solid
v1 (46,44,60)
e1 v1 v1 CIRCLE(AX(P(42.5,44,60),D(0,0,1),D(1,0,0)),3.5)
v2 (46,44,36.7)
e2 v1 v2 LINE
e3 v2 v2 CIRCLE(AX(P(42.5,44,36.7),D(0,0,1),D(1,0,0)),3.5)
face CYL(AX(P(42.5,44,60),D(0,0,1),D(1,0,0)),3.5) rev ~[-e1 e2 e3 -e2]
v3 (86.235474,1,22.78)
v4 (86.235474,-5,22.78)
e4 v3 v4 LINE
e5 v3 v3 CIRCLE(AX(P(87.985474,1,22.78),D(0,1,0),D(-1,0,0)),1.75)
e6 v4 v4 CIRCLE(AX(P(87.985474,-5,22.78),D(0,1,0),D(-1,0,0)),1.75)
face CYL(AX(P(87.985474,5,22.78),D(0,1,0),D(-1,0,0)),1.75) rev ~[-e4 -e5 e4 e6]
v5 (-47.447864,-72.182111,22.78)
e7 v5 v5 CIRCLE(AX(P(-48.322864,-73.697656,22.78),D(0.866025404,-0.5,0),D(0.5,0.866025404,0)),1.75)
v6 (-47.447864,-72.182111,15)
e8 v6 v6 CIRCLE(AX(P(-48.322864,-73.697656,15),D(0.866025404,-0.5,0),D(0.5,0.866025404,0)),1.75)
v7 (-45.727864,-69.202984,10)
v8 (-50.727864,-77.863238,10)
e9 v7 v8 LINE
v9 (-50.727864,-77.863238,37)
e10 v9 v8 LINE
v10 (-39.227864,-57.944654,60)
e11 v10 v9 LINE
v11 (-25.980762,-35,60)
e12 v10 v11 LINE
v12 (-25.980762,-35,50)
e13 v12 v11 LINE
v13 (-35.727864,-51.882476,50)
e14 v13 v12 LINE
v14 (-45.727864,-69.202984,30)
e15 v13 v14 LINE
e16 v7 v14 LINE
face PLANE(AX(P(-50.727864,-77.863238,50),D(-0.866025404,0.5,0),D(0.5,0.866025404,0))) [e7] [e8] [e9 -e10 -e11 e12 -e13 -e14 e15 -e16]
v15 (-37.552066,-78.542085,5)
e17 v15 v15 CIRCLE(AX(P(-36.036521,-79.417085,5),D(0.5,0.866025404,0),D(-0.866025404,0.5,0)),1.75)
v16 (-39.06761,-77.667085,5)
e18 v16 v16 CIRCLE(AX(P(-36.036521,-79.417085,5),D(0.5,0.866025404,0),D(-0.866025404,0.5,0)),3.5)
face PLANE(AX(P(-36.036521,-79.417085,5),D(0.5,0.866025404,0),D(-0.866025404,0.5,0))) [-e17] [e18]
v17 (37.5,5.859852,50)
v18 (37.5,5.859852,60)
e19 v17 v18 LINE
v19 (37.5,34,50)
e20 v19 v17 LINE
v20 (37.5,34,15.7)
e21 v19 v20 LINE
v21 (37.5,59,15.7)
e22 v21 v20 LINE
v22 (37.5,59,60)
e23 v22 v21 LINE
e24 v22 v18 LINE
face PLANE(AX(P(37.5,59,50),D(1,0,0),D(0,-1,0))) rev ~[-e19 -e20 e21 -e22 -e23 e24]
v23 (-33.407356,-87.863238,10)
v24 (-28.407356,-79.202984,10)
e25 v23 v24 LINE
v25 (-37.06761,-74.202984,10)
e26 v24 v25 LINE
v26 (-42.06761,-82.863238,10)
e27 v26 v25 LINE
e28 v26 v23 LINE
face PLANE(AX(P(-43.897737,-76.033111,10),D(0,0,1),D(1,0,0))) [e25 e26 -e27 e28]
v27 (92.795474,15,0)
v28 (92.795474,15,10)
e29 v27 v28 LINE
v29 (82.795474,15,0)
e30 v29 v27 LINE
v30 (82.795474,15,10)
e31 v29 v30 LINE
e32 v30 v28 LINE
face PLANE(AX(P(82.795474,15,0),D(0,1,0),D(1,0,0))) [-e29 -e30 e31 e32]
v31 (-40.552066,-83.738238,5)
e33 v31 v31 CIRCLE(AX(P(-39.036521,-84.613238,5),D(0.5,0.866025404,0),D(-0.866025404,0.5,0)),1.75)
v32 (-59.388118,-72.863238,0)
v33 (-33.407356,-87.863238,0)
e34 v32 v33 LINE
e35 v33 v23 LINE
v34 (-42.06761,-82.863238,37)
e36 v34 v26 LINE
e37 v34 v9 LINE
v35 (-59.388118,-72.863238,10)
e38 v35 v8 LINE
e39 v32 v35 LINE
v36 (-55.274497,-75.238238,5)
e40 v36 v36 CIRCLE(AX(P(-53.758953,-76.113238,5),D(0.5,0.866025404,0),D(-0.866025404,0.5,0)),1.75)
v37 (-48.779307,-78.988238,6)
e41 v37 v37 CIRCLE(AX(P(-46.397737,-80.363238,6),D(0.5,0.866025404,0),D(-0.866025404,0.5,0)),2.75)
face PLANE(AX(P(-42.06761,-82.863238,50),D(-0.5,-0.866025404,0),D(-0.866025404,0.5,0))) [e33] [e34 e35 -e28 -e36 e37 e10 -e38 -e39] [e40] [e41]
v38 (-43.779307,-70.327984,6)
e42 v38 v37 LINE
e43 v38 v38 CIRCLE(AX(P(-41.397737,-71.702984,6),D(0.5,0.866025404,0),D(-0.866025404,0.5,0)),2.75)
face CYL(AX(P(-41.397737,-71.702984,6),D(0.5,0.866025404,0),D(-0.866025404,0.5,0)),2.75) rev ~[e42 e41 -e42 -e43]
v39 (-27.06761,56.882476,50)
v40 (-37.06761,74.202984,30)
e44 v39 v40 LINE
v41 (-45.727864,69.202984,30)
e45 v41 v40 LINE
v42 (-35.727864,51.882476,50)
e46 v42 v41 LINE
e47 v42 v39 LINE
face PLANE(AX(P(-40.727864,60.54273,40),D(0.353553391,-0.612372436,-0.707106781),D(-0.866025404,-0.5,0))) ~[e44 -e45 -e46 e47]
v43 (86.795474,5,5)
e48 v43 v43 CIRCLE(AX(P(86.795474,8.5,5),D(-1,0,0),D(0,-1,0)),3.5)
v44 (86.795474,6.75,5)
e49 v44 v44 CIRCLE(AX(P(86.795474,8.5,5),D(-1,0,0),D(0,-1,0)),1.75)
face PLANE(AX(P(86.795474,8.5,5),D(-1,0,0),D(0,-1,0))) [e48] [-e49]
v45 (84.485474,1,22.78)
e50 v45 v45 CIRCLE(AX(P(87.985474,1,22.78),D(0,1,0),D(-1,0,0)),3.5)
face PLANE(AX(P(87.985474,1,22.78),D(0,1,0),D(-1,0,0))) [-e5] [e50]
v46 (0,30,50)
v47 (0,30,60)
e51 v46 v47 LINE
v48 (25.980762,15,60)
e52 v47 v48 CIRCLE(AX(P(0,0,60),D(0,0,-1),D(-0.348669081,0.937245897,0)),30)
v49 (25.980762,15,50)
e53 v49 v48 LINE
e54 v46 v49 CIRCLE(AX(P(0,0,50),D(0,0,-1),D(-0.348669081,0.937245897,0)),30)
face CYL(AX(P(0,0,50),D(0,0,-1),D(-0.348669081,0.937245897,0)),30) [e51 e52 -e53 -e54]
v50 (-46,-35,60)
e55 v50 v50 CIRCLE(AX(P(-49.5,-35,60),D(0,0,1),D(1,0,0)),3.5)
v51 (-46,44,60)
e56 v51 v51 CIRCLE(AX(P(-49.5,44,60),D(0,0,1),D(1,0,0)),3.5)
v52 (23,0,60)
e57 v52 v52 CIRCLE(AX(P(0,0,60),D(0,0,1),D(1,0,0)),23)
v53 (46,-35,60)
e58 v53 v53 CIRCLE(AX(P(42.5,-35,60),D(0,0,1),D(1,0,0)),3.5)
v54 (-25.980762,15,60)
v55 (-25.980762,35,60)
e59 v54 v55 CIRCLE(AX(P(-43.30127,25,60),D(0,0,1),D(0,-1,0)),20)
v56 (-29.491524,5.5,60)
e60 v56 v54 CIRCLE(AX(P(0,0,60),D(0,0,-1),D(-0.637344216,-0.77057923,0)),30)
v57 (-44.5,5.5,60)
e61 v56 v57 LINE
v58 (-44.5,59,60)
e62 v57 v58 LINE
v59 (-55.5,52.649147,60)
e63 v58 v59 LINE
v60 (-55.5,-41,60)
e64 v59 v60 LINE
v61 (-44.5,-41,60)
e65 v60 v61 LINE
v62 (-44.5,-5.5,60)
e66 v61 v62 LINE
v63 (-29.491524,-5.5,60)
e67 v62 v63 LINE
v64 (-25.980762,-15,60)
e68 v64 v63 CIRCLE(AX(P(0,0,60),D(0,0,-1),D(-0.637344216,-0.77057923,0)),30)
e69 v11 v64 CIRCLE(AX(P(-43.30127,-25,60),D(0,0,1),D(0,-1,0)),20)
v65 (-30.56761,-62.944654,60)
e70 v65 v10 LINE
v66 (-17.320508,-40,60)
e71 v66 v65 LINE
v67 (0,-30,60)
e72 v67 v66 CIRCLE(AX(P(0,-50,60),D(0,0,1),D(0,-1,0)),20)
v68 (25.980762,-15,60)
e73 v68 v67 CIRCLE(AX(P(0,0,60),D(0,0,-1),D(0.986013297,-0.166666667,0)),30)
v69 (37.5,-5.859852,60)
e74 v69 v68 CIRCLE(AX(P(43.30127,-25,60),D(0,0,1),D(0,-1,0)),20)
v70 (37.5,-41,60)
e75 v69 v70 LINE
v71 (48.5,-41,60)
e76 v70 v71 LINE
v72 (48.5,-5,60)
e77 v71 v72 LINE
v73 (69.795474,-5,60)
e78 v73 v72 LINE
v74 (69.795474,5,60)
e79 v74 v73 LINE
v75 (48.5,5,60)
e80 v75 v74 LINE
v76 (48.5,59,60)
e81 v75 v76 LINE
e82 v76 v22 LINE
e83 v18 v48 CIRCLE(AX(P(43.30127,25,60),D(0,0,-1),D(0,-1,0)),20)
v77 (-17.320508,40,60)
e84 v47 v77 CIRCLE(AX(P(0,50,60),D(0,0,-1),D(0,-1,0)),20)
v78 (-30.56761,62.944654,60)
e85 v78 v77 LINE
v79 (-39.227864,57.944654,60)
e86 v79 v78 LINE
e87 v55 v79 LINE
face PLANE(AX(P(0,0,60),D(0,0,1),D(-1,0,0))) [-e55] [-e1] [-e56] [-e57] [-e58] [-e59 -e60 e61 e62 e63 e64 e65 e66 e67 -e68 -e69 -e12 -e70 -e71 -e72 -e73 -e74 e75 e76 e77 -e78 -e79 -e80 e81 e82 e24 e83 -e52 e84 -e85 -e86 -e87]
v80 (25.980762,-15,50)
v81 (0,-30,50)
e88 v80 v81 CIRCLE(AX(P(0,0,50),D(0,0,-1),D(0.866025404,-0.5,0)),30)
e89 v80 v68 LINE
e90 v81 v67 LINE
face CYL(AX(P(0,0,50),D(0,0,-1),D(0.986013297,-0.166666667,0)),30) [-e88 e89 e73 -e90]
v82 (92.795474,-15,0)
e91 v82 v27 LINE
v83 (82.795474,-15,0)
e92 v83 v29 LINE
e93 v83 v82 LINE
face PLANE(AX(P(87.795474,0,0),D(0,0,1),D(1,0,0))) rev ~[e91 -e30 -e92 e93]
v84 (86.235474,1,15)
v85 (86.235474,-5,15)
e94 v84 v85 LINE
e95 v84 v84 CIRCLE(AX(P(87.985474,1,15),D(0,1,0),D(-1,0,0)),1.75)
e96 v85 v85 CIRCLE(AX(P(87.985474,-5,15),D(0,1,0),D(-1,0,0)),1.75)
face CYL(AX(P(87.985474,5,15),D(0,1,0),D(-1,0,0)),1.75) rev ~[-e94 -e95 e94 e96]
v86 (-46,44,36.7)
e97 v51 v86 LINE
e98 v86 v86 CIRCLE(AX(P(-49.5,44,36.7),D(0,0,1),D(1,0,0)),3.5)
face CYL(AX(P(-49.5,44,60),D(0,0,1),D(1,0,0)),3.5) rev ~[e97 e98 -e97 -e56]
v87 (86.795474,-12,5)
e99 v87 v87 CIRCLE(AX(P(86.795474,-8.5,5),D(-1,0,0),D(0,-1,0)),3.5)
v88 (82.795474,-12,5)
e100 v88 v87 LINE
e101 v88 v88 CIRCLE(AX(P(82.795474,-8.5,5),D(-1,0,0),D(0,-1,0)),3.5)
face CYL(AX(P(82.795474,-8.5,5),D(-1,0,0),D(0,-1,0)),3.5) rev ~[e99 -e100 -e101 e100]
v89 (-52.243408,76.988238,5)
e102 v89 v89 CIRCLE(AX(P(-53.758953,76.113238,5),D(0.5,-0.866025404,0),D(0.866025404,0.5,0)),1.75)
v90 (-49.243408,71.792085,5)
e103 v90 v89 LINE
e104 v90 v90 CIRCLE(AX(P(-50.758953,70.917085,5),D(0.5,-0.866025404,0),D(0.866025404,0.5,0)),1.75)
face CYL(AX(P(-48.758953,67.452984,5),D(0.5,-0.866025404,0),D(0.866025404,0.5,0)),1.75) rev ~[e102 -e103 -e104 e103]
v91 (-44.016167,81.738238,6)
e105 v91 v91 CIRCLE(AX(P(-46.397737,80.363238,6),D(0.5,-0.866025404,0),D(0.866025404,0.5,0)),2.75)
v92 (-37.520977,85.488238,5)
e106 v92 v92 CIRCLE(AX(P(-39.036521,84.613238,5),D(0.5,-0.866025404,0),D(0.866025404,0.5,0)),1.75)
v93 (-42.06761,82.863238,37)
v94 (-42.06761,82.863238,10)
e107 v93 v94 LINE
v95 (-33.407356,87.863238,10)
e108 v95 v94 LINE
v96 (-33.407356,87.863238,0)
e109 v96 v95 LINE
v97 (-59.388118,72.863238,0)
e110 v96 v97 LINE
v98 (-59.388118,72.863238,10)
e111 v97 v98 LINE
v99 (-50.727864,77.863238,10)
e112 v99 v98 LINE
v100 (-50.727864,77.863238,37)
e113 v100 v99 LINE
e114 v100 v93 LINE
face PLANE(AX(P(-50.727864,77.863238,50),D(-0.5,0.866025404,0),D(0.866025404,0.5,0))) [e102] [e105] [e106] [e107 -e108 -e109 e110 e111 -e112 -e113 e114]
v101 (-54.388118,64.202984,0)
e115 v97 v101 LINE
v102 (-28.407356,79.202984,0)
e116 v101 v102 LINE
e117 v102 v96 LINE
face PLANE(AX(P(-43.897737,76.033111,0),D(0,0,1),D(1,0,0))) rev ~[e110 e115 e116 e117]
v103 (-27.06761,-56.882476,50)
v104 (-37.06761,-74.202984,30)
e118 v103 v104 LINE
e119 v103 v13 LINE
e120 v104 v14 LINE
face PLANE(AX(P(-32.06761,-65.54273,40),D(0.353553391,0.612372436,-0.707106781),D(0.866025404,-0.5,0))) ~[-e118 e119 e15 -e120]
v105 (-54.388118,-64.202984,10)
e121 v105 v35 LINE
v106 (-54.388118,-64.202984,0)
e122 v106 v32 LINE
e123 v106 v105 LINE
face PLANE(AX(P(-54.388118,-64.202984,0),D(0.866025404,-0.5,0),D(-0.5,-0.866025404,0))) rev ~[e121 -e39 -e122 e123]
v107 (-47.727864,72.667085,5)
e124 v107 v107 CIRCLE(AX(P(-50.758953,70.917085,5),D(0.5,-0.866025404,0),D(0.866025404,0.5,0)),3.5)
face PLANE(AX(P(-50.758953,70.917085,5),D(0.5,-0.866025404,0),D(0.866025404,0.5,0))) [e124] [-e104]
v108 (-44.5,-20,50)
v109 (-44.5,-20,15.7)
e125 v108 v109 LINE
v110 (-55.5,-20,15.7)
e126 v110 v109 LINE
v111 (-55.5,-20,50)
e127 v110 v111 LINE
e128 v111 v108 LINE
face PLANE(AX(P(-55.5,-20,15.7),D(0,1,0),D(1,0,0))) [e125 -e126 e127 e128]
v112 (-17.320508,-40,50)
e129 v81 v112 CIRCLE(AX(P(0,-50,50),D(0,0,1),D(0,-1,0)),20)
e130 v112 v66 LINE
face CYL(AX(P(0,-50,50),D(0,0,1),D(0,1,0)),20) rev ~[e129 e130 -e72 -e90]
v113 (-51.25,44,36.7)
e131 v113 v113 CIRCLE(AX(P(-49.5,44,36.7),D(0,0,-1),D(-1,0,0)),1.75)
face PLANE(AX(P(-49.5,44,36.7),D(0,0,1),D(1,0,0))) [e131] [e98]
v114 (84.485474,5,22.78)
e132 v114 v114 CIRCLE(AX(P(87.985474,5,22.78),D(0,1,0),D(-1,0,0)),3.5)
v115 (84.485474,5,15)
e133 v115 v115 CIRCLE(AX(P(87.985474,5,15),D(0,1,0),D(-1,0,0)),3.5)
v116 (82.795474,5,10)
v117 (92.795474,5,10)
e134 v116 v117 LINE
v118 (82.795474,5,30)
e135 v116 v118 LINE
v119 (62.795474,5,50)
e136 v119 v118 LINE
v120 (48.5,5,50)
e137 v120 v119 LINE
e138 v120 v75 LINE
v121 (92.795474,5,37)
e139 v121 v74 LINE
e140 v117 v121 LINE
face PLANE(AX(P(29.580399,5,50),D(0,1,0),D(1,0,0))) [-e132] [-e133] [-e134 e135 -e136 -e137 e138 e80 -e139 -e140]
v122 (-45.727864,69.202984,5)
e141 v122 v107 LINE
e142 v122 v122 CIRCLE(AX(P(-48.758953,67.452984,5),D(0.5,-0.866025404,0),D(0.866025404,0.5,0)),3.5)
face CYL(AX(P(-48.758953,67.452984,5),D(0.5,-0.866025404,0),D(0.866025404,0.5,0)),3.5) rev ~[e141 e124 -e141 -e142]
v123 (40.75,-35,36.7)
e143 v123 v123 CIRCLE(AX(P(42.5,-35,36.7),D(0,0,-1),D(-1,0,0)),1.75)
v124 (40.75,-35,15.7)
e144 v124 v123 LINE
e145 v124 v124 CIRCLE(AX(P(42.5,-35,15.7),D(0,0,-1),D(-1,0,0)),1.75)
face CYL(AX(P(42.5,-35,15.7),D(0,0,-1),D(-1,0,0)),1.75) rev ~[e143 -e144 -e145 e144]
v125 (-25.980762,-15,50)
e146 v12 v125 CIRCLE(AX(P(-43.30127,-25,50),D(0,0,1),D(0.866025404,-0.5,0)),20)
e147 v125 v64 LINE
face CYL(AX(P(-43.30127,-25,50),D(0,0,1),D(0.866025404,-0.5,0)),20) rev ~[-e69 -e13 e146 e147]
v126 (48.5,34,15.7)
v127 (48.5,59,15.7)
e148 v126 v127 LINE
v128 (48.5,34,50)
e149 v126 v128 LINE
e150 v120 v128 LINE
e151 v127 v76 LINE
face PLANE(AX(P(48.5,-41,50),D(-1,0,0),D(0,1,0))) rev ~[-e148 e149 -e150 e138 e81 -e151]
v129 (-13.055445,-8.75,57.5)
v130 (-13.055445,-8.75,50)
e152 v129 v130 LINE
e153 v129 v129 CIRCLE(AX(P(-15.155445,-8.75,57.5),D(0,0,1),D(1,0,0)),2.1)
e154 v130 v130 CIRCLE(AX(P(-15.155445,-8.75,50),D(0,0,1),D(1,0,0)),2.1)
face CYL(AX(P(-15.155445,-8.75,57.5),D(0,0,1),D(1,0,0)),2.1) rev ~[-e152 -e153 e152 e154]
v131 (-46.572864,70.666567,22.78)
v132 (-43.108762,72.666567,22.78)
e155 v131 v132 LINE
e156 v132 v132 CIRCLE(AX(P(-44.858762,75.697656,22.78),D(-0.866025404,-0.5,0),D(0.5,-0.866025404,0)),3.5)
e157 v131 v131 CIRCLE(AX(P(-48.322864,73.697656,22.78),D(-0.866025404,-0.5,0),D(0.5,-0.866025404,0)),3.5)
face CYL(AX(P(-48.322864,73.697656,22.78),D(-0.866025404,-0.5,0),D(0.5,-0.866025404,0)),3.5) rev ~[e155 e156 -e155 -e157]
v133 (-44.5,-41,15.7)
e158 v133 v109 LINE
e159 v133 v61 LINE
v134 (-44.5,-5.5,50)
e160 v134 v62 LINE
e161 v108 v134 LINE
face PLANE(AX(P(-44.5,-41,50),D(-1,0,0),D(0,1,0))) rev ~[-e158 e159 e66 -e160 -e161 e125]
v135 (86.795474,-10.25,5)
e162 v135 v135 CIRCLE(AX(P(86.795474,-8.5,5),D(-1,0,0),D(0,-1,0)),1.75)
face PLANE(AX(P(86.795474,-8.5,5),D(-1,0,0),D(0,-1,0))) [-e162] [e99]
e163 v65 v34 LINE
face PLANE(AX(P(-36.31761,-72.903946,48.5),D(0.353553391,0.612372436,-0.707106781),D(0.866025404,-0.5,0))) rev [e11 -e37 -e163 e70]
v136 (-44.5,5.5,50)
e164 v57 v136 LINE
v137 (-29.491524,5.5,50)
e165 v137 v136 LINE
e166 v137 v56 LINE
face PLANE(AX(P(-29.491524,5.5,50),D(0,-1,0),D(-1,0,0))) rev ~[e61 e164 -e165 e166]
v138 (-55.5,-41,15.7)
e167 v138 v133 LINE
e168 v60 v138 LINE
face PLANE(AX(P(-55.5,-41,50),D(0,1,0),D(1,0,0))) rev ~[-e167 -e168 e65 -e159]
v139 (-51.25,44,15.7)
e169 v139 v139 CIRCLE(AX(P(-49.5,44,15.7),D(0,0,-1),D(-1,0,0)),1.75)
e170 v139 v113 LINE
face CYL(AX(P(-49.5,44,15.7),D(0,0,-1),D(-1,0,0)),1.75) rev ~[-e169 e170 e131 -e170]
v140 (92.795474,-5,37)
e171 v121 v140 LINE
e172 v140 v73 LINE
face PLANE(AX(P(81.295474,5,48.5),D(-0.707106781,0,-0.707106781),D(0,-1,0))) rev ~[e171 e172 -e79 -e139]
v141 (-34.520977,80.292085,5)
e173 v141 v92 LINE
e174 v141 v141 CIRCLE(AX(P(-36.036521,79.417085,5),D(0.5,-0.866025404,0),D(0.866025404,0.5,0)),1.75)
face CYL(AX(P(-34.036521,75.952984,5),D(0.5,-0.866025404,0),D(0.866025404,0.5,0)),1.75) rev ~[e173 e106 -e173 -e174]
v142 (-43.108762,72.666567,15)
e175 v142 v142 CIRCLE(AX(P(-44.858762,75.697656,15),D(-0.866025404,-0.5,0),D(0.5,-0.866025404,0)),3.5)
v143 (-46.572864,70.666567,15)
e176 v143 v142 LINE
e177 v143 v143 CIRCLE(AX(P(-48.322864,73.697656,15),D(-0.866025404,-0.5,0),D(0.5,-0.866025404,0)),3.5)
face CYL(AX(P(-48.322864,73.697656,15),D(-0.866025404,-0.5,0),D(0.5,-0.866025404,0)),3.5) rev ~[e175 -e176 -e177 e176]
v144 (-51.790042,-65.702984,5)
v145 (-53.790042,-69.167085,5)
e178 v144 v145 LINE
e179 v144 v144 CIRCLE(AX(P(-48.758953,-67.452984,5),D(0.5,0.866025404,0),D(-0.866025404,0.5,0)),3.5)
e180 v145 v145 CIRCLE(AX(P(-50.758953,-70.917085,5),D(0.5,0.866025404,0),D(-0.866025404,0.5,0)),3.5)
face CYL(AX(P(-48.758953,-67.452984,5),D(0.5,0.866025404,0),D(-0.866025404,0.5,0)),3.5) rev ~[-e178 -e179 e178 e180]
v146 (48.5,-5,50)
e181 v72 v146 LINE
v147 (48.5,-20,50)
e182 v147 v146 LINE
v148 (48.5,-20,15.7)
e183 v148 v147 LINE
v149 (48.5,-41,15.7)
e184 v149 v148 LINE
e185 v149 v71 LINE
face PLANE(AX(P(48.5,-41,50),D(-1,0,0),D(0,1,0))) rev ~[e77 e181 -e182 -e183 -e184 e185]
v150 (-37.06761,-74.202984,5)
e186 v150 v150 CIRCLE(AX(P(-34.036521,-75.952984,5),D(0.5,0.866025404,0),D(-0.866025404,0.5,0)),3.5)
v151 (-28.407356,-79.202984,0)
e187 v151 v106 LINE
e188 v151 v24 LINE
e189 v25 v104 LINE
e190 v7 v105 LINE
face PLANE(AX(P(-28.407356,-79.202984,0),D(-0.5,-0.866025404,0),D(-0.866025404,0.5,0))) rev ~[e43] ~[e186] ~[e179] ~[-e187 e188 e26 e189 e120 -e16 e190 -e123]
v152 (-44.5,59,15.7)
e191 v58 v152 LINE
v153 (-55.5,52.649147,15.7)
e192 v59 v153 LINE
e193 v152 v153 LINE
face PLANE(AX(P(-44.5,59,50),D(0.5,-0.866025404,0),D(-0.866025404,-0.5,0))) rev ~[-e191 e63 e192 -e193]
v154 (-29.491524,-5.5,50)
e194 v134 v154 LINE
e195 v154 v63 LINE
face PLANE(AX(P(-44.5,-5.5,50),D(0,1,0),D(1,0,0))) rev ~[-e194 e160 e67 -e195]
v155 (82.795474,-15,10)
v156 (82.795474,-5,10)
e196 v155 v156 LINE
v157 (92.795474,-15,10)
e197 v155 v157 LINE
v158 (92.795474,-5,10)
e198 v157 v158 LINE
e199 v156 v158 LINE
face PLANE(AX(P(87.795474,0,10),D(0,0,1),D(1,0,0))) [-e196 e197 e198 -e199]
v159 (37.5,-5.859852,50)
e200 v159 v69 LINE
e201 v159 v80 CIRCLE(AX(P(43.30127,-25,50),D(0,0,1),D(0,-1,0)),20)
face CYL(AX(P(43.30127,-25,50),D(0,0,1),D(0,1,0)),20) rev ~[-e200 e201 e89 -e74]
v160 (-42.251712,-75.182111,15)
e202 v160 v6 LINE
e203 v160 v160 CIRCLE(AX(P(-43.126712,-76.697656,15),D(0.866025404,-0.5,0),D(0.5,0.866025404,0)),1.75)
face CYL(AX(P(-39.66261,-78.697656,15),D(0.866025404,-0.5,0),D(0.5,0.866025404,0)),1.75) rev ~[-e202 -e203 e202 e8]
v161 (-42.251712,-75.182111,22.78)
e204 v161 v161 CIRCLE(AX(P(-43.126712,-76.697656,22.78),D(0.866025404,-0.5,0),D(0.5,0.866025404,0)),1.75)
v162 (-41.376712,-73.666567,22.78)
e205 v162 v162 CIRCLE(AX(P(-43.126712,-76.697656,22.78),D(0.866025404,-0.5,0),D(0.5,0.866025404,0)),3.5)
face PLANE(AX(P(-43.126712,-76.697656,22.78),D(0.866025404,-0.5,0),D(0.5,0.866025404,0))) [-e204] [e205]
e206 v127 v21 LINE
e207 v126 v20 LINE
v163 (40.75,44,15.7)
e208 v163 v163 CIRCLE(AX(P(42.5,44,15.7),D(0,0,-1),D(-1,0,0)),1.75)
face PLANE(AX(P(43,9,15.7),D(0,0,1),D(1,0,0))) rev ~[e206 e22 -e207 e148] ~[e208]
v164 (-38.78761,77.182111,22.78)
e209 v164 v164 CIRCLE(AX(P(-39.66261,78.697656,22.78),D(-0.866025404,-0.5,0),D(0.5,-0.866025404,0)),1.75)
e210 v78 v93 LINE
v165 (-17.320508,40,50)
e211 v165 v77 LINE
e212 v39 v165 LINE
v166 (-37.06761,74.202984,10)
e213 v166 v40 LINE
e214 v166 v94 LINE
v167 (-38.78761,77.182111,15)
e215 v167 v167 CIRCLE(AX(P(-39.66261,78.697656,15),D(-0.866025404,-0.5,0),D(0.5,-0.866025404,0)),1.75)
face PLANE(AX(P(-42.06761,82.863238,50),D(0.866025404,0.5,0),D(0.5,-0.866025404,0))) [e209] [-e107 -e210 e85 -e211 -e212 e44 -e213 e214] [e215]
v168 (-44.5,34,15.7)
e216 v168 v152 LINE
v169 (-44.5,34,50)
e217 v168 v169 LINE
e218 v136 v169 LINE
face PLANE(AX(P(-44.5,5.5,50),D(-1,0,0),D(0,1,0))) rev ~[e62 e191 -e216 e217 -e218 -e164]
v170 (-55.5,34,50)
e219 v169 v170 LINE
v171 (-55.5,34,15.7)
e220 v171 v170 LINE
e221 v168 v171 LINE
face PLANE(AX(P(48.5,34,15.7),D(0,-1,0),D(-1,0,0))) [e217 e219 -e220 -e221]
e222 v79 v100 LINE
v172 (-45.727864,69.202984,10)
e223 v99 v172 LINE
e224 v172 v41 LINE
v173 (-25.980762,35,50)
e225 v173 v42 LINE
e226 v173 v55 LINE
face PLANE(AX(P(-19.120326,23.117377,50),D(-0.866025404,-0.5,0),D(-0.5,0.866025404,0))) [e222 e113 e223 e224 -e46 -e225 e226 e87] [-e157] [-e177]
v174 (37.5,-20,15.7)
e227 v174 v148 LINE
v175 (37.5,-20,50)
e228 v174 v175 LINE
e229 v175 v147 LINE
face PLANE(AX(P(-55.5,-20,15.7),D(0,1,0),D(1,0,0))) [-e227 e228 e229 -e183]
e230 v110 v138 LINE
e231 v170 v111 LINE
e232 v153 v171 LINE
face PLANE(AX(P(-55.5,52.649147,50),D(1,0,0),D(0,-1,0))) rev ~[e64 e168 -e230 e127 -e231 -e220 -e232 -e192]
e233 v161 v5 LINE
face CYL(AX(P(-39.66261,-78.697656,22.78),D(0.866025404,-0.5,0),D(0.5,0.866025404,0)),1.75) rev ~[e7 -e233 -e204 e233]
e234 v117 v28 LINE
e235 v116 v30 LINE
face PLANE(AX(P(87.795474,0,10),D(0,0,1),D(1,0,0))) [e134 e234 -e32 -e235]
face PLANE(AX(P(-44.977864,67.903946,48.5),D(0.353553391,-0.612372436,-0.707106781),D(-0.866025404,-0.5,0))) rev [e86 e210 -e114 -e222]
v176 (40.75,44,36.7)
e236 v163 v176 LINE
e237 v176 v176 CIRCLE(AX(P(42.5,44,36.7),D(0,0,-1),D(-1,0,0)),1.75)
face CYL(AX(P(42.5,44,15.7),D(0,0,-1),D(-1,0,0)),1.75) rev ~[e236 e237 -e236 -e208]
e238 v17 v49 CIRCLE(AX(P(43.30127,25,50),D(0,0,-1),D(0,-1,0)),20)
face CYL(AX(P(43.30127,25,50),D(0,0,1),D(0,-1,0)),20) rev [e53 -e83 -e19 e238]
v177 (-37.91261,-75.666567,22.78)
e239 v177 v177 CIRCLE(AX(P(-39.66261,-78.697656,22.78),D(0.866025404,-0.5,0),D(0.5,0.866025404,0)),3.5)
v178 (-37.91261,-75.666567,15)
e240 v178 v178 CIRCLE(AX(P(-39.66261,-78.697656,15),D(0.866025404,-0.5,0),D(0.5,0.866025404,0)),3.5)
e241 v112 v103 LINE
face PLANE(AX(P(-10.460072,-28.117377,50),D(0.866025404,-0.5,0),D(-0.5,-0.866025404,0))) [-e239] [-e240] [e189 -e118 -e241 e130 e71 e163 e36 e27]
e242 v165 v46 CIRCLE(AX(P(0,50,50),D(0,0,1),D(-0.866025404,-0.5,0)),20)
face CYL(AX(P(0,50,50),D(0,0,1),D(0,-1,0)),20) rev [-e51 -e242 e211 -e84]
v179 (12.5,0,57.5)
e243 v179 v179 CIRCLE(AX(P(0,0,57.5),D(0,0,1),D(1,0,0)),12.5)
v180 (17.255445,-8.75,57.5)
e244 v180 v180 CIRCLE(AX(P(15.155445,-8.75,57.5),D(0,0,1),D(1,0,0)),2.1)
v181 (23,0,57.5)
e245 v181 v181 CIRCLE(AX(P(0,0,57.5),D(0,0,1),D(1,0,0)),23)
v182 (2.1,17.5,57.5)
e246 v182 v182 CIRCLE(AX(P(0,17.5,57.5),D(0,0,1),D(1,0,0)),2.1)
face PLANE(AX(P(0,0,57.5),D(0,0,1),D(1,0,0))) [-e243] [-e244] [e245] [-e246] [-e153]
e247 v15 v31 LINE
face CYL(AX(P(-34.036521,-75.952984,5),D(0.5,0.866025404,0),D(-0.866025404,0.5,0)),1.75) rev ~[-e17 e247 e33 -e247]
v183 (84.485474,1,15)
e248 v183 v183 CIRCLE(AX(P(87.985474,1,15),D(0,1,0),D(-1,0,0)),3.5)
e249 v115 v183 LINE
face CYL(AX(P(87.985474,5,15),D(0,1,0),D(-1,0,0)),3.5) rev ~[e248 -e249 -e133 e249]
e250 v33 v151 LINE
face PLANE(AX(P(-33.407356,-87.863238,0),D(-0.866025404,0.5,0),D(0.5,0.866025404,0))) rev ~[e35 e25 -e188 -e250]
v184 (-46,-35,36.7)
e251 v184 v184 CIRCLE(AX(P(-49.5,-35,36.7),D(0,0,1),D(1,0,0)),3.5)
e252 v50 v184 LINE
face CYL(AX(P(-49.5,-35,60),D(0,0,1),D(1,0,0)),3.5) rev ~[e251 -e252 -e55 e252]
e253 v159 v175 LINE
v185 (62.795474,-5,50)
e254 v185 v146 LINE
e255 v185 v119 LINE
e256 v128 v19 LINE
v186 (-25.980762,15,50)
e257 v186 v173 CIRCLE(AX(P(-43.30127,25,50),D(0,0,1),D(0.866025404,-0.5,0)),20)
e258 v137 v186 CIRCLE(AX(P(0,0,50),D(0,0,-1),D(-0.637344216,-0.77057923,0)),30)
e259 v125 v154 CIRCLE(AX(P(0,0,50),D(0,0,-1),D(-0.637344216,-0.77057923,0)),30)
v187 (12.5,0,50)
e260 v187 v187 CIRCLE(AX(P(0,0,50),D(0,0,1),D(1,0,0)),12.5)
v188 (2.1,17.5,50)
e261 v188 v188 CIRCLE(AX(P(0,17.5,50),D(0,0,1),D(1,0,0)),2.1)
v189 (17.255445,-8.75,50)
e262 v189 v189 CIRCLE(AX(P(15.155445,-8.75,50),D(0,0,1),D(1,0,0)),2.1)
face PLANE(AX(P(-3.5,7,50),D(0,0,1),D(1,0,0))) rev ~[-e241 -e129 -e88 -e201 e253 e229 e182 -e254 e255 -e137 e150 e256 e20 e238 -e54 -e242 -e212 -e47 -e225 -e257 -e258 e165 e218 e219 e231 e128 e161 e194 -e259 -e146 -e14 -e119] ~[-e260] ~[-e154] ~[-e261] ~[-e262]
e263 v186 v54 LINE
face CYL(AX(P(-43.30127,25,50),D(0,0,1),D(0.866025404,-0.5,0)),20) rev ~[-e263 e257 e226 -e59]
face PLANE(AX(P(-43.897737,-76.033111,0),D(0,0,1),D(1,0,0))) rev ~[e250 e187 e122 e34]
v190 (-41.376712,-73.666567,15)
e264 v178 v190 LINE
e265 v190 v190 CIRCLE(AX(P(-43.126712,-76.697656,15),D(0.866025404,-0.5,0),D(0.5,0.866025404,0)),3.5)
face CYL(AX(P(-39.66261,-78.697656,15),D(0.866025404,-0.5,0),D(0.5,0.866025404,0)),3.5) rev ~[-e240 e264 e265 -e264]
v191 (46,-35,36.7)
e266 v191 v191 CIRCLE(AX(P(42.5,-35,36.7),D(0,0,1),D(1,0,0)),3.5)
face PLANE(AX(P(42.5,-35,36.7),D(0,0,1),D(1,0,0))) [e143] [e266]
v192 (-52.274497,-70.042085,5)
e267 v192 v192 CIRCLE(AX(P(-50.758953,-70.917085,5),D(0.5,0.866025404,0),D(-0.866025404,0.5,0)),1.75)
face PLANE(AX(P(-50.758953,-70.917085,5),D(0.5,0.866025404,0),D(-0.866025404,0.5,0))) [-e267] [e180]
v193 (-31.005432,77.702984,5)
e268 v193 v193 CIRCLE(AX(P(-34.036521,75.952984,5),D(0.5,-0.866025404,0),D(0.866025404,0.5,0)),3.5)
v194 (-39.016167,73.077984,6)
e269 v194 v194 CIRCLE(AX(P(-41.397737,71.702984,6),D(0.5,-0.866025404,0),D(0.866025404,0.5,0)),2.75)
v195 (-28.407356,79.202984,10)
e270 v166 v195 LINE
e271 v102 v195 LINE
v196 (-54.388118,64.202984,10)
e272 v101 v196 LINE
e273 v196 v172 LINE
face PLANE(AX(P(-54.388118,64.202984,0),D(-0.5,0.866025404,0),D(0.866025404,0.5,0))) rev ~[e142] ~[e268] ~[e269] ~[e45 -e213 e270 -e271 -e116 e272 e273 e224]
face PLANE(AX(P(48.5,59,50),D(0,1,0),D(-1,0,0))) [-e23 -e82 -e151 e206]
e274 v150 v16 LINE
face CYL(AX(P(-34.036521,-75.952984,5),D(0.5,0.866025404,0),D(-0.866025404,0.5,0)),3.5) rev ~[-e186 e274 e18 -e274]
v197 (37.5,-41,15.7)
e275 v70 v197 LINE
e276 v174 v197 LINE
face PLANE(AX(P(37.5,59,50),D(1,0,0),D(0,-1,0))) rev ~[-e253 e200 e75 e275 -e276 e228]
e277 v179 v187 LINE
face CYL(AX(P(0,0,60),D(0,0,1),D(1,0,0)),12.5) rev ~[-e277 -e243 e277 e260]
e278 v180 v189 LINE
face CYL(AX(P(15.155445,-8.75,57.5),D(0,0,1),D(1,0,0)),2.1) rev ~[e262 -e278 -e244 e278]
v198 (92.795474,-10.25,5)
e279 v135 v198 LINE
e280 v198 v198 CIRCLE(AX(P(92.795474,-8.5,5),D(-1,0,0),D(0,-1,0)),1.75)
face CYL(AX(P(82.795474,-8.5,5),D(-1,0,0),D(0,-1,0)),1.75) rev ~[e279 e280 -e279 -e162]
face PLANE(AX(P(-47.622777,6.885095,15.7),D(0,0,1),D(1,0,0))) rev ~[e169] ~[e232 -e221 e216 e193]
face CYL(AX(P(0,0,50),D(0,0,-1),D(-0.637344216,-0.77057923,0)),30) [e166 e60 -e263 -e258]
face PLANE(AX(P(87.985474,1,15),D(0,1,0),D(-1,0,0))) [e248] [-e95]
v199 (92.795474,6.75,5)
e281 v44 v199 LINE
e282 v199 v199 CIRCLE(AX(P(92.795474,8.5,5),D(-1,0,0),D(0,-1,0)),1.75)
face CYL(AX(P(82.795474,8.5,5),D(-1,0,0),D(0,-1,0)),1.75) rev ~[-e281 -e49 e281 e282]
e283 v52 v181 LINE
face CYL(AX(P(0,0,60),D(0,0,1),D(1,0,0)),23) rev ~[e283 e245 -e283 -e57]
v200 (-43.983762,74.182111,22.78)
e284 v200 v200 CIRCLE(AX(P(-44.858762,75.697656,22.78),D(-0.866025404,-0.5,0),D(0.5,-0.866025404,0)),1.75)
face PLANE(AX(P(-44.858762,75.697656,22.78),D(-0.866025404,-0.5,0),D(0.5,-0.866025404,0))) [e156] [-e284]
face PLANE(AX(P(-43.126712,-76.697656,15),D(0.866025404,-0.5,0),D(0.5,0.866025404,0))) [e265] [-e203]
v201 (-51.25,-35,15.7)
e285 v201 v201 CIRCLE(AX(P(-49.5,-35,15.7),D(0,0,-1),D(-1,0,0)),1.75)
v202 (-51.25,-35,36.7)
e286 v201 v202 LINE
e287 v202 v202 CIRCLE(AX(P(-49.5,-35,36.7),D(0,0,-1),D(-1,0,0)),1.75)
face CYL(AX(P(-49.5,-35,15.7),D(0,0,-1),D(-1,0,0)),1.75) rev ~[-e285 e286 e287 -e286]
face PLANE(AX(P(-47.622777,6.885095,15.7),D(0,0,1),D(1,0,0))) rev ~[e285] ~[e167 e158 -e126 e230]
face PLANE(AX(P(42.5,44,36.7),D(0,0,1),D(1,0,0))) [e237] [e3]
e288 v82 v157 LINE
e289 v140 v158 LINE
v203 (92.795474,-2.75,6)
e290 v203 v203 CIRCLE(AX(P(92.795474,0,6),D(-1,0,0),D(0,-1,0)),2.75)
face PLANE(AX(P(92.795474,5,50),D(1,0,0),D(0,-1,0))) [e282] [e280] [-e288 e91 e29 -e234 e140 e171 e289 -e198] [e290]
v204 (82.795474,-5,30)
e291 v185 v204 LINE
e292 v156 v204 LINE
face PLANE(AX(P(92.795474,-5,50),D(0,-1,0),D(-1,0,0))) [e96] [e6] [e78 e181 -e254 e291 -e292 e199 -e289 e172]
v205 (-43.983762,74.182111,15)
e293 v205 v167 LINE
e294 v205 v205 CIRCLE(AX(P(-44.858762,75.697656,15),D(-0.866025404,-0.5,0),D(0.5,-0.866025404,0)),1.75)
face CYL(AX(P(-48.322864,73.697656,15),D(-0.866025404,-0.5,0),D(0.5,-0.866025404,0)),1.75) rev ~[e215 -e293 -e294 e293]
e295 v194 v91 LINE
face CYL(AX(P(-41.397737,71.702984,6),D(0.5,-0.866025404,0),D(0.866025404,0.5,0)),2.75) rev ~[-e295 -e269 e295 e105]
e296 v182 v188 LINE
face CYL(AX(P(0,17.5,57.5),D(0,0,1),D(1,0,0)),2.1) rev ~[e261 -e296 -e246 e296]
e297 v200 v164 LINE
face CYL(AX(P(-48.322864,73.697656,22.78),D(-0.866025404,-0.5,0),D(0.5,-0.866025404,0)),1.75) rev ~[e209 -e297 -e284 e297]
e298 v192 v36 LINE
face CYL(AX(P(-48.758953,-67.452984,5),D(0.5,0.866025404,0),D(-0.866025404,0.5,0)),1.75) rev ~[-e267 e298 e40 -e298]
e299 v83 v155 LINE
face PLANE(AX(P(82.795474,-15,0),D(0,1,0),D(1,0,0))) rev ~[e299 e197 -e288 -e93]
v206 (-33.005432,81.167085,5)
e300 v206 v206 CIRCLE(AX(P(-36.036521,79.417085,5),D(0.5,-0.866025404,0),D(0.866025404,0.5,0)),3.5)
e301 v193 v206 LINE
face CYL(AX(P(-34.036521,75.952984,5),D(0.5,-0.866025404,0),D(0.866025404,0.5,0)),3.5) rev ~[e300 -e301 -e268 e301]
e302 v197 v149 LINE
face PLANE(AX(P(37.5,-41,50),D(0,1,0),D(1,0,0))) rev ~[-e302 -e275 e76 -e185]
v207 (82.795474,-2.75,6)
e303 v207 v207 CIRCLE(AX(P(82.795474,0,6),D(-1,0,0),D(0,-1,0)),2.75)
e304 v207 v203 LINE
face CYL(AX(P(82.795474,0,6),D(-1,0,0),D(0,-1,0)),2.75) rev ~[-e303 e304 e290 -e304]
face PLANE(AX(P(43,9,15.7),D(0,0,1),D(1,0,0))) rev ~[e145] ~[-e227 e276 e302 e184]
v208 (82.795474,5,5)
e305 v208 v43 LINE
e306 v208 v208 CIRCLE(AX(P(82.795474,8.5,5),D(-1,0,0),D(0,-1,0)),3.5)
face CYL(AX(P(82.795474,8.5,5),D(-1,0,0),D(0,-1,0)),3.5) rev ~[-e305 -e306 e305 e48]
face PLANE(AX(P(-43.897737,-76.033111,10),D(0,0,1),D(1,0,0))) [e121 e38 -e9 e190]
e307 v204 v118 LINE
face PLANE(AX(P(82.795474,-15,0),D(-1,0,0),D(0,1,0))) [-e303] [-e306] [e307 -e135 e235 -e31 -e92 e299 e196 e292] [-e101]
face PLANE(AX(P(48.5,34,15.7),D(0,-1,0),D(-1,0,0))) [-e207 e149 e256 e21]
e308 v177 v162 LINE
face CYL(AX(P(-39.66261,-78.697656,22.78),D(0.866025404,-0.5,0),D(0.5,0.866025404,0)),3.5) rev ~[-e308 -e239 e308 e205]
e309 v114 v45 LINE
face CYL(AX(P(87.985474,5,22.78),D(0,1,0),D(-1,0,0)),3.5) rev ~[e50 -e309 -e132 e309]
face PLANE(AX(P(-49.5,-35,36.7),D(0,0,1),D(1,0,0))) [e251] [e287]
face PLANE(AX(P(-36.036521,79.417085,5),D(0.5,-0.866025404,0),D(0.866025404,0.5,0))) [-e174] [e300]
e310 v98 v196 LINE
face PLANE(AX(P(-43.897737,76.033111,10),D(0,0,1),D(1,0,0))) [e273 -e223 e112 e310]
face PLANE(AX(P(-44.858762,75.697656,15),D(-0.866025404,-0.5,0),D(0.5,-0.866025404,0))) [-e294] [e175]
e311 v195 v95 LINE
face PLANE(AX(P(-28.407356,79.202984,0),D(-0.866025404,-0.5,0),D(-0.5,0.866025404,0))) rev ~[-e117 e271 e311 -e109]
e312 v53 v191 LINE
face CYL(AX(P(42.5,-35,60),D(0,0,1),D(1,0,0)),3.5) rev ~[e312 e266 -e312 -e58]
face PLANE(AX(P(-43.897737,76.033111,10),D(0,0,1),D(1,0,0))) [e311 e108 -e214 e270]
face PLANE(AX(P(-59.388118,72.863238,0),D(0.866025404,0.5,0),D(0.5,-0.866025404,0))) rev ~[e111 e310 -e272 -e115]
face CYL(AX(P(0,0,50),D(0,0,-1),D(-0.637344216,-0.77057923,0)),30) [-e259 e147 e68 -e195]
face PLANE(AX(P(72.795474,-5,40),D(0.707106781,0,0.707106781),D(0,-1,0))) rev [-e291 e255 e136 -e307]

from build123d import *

# Parameters (mm, degrees)
ESQUISSE1_W                    = 10
ESQUISSE1_H                    = 30.000000000000004
BOSS_EXTRU_1_DEPTH             = 10
BOSS_EXTRU_1_2_DEPTH           = 10
BOSS_EXTRU_1_3_DEPTH           = 10
ESQUISSE2_W                    = 10
ESQUISSE2_H                    = 9.999999999999995
BOSS_EXTRU_2_DEPTH             = 40
BOSS_EXTRU_3_DEPTH             = 10
CHANFREIN1_SIZE                = 20
CHANFREIN2_SIZE                = 23
CONG_1_R                       = 20
ENL_V_MAT_EXTRU_1_REACH        = 143.177
ESQUISSE4_R                    = 12.5
ESQUISSE5_R                    = 23
ENL_V_MAT_EXTRU_2_DEPTH        = 2.5
ENL_V_MAT_EXTRU_3_REACH        = 142.133
ESQUISSE6_R                    = 2.1000000000000005
ESQUISSE6_R_2                  = 2.100000000000001
BOSS_EXTRU_4_DEPTH             = 34.3
BOSS_EXTRU_4_DIRECTION_2_REACH = 139.226
ENL_V_MAT_EXTRU_4_REACH        = 137.253
ESQUISSE8_R                    = 1.7500000000000038
ESQUISSE9_R                    = 3.500000000000001
ENL_V_MAT_EXTRU_5_DEPTH        = 23.3
ENL_V_MAT_EXTRU_6_DEPTH        = 34.3
ENL_V_MAT_EXTRU_7_REACH        = 141.97
ESQUISSE11_R                   = 1.7500000000000004
ESQUISSE12_R                   = 3.500000000000001
ENL_V_MAT_EXTRU_8_DEPTH        = 4
ENL_V_MAT_EXTRU_9_REACH        = 218.954
ESQUISSE13_R                   = 1.7499999999999998
ESQUISSE14_R                   = 3.5
ENL_V_MAT_EXTRU_10_DEPTH       = 4
ENL_V_MAT_EXTRU_11_REACH       = 218.954
ESQUISSE15_R                   = 2.75
R_P_TITION_CIRCULAIRE1_COUNT   = 3


with BuildPart() as part:
    # Esquisse1 → Boss.-Extru.1 (new body)
    with BuildSketch(Plane.XY):
        with Locations((87.79547403, 0)):
            Rectangle(ESQUISSE1_W, ESQUISSE1_H)
    extrude(amount=BOSS_EXTRU_1_DEPTH)



with BuildPart() as body_2:
    # Esquisse1 → Boss.-Extru.1 2 (new body)
    with BuildSketch(Plane.XY):
        Polygon((-28.407355958233403, -79.20298382835476), (-54.38811807176656, -64.20298382835477), (-59.38811807176656, -72.86323786619916), (-33.4073559582334, -87.86323786619914), align=None)
    extrude(amount=BOSS_EXTRU_1_2_DEPTH)


with BuildPart() as body_3:
    # Esquisse1 → Boss.-Extru.1 3 (new body)
    with BuildSketch(Plane.XY):
        Polygon((-54.388118071766606, 64.20298382835473), (-28.407355958233456, 79.20298382835475), (-33.40735595823347, 87.86323786619913), (-59.38811807176661, 72.86323786619911), align=None)
    extrude(amount=BOSS_EXTRU_1_3_DEPTH)


with BuildPart() as part_1:
    add(part.part)

    add(body_2.part)  # Boss.-Extru.2 merges body 2

    add(body_3.part)  # Boss.-Extru.2 merges body 3
    # Esquisse2 → Boss.-Extru.2 (add)
    with BuildSketch(Plane.XY.offset(10)):
        Polygon((-42.06760999607784, 82.86323786619913), (-50.72786403392223, 77.86323786619911), (-45.72786403392222, 69.20298382835475), (-37.06760999607784, 74.20298382835475), align=None)
        with Locations((87.79547403, 0)):
            Rectangle(ESQUISSE2_W, ESQUISSE2_H)
        Polygon((-37.06760999607779, -74.20298382835477), (-45.72786403392218, -69.20298382835477), (-50.727864033922174, -77.86323786619914), (-42.06760999607779, -82.86323786619914), align=None)
    extrude(amount=BOSS_EXTRU_2_DEPTH)

    # Esquisse3 → Boss.-Extru.3 (add)
    with BuildSketch(Plane.XY.offset(50)):
        with BuildLine():
            Line((92.79547403, 4.999999999999997), (92.79547403, -4.999999999999997))
            Line((92.79547403, -4.999999999999997), (29.58039891549808, -4.999999999999997))
            ThreePointArc((29.58039891549808, -4.999999999999997), (15.00000000000001, -25.980762113533153), (-10.460072438826828, -28.117376914899005))
            Line((-10.460072438826828, -28.117376914899005), (-42.0676099960778, -82.86323786619916))
            Line((-42.0676099960778, -82.86323786619916), (-50.727864033922174, -77.86323786619914))
            Line((-50.727864033922174, -77.86323786619914), (-19.120326476671217, -23.11737691489902))
            ThreePointArc((-19.120326476671217, -23.11737691489902), (-30.000000000000007, -3.032e-14), (-19.12032647667126, 23.117376914898983))
            Line((-19.12032647667126, 23.117376914898983), (-50.72786403392222, 77.86323786619911))
            Line((-50.72786403392222, 77.86323786619911), (-42.06760999607783, 82.86323786619911))
            Line((-42.06760999607783, 82.86323786619911), (-10.46007243882688, 28.117376914898994))
            ThreePointArc((-10.46007243882688, 28.117376914898994), (14.999999999999991, 25.980762113533178), (29.580398915498087, 4.999999999999997))
            Line((29.580398915498087, 4.999999999999997), (92.79547403, 4.999999999999997))
        make_face()
    extrude(amount=BOSS_EXTRU_3_DEPTH)

    # Chanfrein1
    chanfrein1_edges = [part_1.edges().sort_by_distance(p)[0] for p in [
        (82.79547403, 0, 50),
        (-41.39773701499999, -71.70298382835477, 50),
        (-41.39773701500003, 71.70298382835475, 50),
    ]]
    chamfer(chanfrein1_edges, length=CHANFREIN1_SIZE)

    # Chanfrein2
    chanfrein2_edges = [part_1.edges().sort_by_distance(p)[0] for p in [
        (-46.397737015000025, 80.36323786619911, 60),
        (-46.39773701499999, -80.36323786619916, 60),
        (92.79547403, 0, 60),
    ]]
    chamfer(chanfrein2_edges, length=CHANFREIN2_SIZE)

    # Congé1
    cong_1_edges = [part_1.edges().sort_by_distance(p)[0] for p in [
        (29.580398915498087, 4.999999999999999, 55),
        (-10.46007243882688, 28.117376914898994, 55),
        (-19.12032647667126, 23.117376914898983, 55),
        (-19.120326476671217, -23.11737691489902, 55),
        (-10.460072438826828, -28.117376914899005, 55),
        (29.58039891549808, -4.999999999999997, 55),
    ]]
    fillet(cong_1_edges, radius=CONG_1_R)

    # Esquisse4 → Enlèv. mat.-Extru.1 (cut, up to next)
    with BuildSketch(Plane.XY.offset(60.00000000000001), mode=Mode.PRIVATE) as enl_v_mat_extru_1_sk1:
        Circle(ESQUISSE4_R)
    enl_v_mat_extru_1_tool1 = extrude(enl_v_mat_extru_1_sk1.sketch, amount=-ENL_V_MAT_EXTRU_1_REACH, mode=Mode.PRIVATE) & part_1.part
    add(enl_v_mat_extru_1_tool1.solids().sort_by_distance((0, 0, 60))[0], mode=Mode.SUBTRACT)

    # Esquisse5 → Enlèv. mat.-Extru.2 (cut)
    with BuildSketch(Plane.XY.offset(60.00000000000001)):
        Circle(ESQUISSE5_R)
    extrude(amount=-ENL_V_MAT_EXTRU_2_DEPTH, mode=Mode.SUBTRACT)

    # Esquisse6 → Enlèv. mat.-Extru.3 (cut, up to next)
    with BuildSketch(Plane.XY.offset(57.5), mode=Mode.PRIVATE) as enl_v_mat_extru_3_sk1:
        with Locations((1.6e-16, 17.5)):
            Circle(ESQUISSE6_R)
    enl_v_mat_extru_3_tool1 = extrude(enl_v_mat_extru_3_sk1.sketch, amount=-ENL_V_MAT_EXTRU_3_REACH, mode=Mode.PRIVATE) & part_1.part
    # Esquisse6 → Enlèv. mat.-Extru.3 (cut, up to next)
    with BuildSketch(Plane.XY.offset(57.5), mode=Mode.PRIVATE) as enl_v_mat_extru_3_sk2:
        with Locations((15.155444566227679, -8.749999999999998)):
            Circle(ESQUISSE6_R_2)
    enl_v_mat_extru_3_tool2 = extrude(enl_v_mat_extru_3_sk2.sketch, amount=-ENL_V_MAT_EXTRU_3_REACH, mode=Mode.PRIVATE) & part_1.part
    # Esquisse6 → Enlèv. mat.-Extru.3 (cut, up to next)
    with BuildSketch(Plane.XY.offset(57.5), mode=Mode.PRIVATE) as enl_v_mat_extru_3_sk3:
        with Locations((-15.155444566227676, -8.750000000000007)):
            Circle(ESQUISSE6_R_2)
    enl_v_mat_extru_3_tool3 = extrude(enl_v_mat_extru_3_sk3.sketch, amount=-ENL_V_MAT_EXTRU_3_REACH, mode=Mode.PRIVATE) & part_1.part
    add(enl_v_mat_extru_3_tool1.solids().sort_by_distance((0, 17.5, 57.5))[0], mode=Mode.SUBTRACT)
    add(enl_v_mat_extru_3_tool2.solids().sort_by_distance((15.155445, -8.75, 57.5))[0], mode=Mode.SUBTRACT)
    add(enl_v_mat_extru_3_tool3.solids().sort_by_distance((-15.155445, -8.75, 57.5))[0], mode=Mode.SUBTRACT)

    # Esquisse7 → Boss.-Extru.4 (add)
    with BuildSketch(Plane(origin=(0, 0, 50), x_dir=(-1, 0, 0), z_dir=(0, 0, -1))):
        Polygon((-37.49999999999999, -41.00000000000001), (-48.499999999999986, -41.00000000000001), (-48.49999999999998, 59), (-37.50000000000003, 59), align=None)
        with BuildLine():
            Line((55.49999999999999, -40.99999999999999), (44.5, -40.99999999999999))
            Line((44.5, -40.99999999999999), (44.5, -5.499999999999998))
            Line((44.5, -5.499999999999998), (29.491524206117262, -5.5))
            ThreePointArc((29.491524206117262, -5.5), (30.000000000000007, -2.5e-15), (29.49152420611726, 5.499999999999995))
            Line((29.49152420611726, 5.499999999999995), (44.5, 5.499999999999998))
            Line((44.5, 5.499999999999998), (44.5, 59.000000000000014))
            Line((44.5, 59.000000000000014), (55.49999999999999, 52.64914703891413))
            Line((55.49999999999999, 52.64914703891413), (55.49999999999999, -40.99999999999999))
        make_face()
    extrude(amount=BOSS_EXTRU_4_DEPTH)

    # Boss.-Extru.4 direction 2: up to this face of the body (flat: up to its plane)
    boss_extru_4_direction_2_end = Plane(part_1.part.faces().sort_by_distance((56.54837211, 3.334641003, 60))[0])
    # Esquisse7 → Boss.-Extru.4 direction 2 (add, up to the picked face)
    with BuildSketch(Plane(origin=(0, 0, 50), x_dir=(-1, 0, 0), z_dir=(0, 0, -1)), mode=Mode.PRIVATE) as boss_extru_4_direction_2_sk1:
        Polygon((-37.49999999999999, -41.00000000000001), (-48.499999999999986, -41.00000000000001), (-48.49999999999998, 59), (-37.50000000000003, 59), align=None)
    boss_extru_4_direction_2_tool1 = split(extrude(boss_extru_4_direction_2_sk1.sketch, amount=-BOSS_EXTRU_4_DIRECTION_2_REACH, mode=Mode.PRIVATE), bisect_by=boss_extru_4_direction_2_end, keep=Keep.BOTH, mode=Mode.PRIVATE)
    # Esquisse7 → Boss.-Extru.4 direction 2 (add, up to the picked face)
    with BuildSketch(Plane(origin=(0, 0, 50), x_dir=(-1, 0, 0), z_dir=(0, 0, -1)), mode=Mode.PRIVATE) as boss_extru_4_direction_2_sk2:
        with BuildLine():
            Line((55.49999999999999, -40.99999999999999), (44.5, -40.99999999999999))
            Line((44.5, -40.99999999999999), (44.5, -5.499999999999998))
            Line((44.5, -5.499999999999998), (29.491524206117262, -5.5))
            ThreePointArc((29.491524206117262, -5.5), (30.000000000000007, -2.5e-15), (29.49152420611726, 5.499999999999995))
            Line((29.49152420611726, 5.499999999999995), (44.5, 5.499999999999998))
            Line((44.5, 5.499999999999998), (44.5, 59.000000000000014))
            Line((44.5, 59.000000000000014), (55.49999999999999, 52.64914703891413))
            Line((55.49999999999999, 52.64914703891413), (55.49999999999999, -40.99999999999999))
        make_face()
    boss_extru_4_direction_2_tool2 = split(extrude(boss_extru_4_direction_2_sk2.sketch, amount=-BOSS_EXTRU_4_DIRECTION_2_REACH, mode=Mode.PRIVATE), bisect_by=boss_extru_4_direction_2_end, keep=Keep.BOTH, mode=Mode.PRIVATE)
    add(boss_extru_4_direction_2_tool1.solids().sort_by(Axis((43, 9, 50), (0, 0, 1)))[0])
    add(boss_extru_4_direction_2_tool2.solids().sort_by(Axis((-48.259086, 6.452144, 50), (0, 0, 1)))[0])

    # Esquisse8 → Enlèv. mat.-Extru.4 (cut, up to next)
    with BuildSketch(Plane(origin=(0, 0, 15.700000000000006), x_dir=(-1, 0, 0), z_dir=(0, 0, -1)), mode=Mode.PRIVATE) as enl_v_mat_extru_4_sk1:
        with Locations((49.499999999999986, 44.00000000000001)):
            Circle(ESQUISSE8_R)
    enl_v_mat_extru_4_tool1 = extrude(enl_v_mat_extru_4_sk1.sketch, amount=-ENL_V_MAT_EXTRU_4_REACH, mode=Mode.PRIVATE) & part_1.part
    # Esquisse8 → Enlèv. mat.-Extru.4 (cut, up to next)
    with BuildSketch(Plane(origin=(0, 0, 15.700000000000006), x_dir=(-1, 0, 0), z_dir=(0, 0, -1)), mode=Mode.PRIVATE) as enl_v_mat_extru_4_sk2:
        with Locations((-42.50000000000001, 43.99999999999999)):
            Circle(ESQUISSE8_R)
    enl_v_mat_extru_4_tool2 = extrude(enl_v_mat_extru_4_sk2.sketch, amount=-ENL_V_MAT_EXTRU_4_REACH, mode=Mode.PRIVATE) & part_1.part
    # Esquisse8 → Enlèv. mat.-Extru.4 (cut, up to next)
    with BuildSketch(Plane(origin=(0, 0, 15.700000000000006), x_dir=(-1, 0, 0), z_dir=(0, 0, -1)), mode=Mode.PRIVATE) as enl_v_mat_extru_4_sk3:
        with Locations((-42.50000000000001, -35.00000000000001)):
            Circle(ESQUISSE8_R)
    enl_v_mat_extru_4_tool3 = extrude(enl_v_mat_extru_4_sk3.sketch, amount=-ENL_V_MAT_EXTRU_4_REACH, mode=Mode.PRIVATE) & part_1.part
    # Esquisse8 → Enlèv. mat.-Extru.4 (cut, up to next)
    with BuildSketch(Plane(origin=(0, 0, 15.700000000000006), x_dir=(-1, 0, 0), z_dir=(0, 0, -1)), mode=Mode.PRIVATE) as enl_v_mat_extru_4_sk4:
        with Locations((49.500000000000014, -34.99999999999999)):
            Circle(ESQUISSE8_R)
    enl_v_mat_extru_4_tool4 = extrude(enl_v_mat_extru_4_sk4.sketch, amount=-ENL_V_MAT_EXTRU_4_REACH, mode=Mode.PRIVATE) & part_1.part
    add(enl_v_mat_extru_4_tool1.solids().sort_by_distance((-49.5, 44, 15.7))[0], mode=Mode.SUBTRACT)
    add(enl_v_mat_extru_4_tool2.solids().sort_by_distance((42.5, 44, 15.7))[0], mode=Mode.SUBTRACT)
    add(enl_v_mat_extru_4_tool3.solids().sort_by_distance((42.5, -35, 15.7))[0], mode=Mode.SUBTRACT)
    add(enl_v_mat_extru_4_tool4.solids().sort_by_distance((-49.5, -35, 15.7))[0], mode=Mode.SUBTRACT)

    # Esquisse9 → Enlèv. mat.-Extru.5 (cut)
    with BuildSketch(Plane.XY.offset(60.00000000000001)):
        with Locations((42.50000000000001, -35.00000000000001)):
            Circle(ESQUISSE9_R)
        with Locations((42.50000000000001, 43.99999999999999)):
            Circle(ESQUISSE9_R)
        with Locations((-49.500000000000014, -34.99999999999999)):
            Circle(ESQUISSE9_R)
        with Locations((-49.499999999999986, 44.00000000000001)):
            Circle(ESQUISSE9_R)
    extrude(amount=-ENL_V_MAT_EXTRU_5_DEPTH, mode=Mode.SUBTRACT)

    # Esquisse10 → Enlèv. mat.-Extru.6 (cut)
    with BuildSketch(Plane(origin=(0, 0, 15.700000000000006), x_dir=(-1, 0, 0), z_dir=(0, 0, -1))):
        Polygon((-48.49999999999998, 34), (55.49999999999999, 34), (55.49999999999999, -19.999999999999996), (-48.49999999999997, -19.999999999999996), align=None)
    extrude(amount=-ENL_V_MAT_EXTRU_6_DEPTH, mode=Mode.SUBTRACT)

    # Esquisse11 → Enlèv. mat.-Extru.7 (cut, up to next)
    with BuildSketch(Plane(origin=(4.330127018922216, -2.500000000000013, 0), x_dir=(0, 0, -1), z_dir=(0.8660254037844386, -0.4999999999999999, 0)), mode=Mode.PRIVATE) as enl_v_mat_extru_7_sk1:
        with Locations(Location((-15, -87.98547402999999, 0), (0, 0, 90))):
            Circle(ESQUISSE11_R)
    enl_v_mat_extru_7_tool1 = extrude(enl_v_mat_extru_7_sk1.sketch, amount=-ENL_V_MAT_EXTRU_7_REACH, mode=Mode.PRIVATE) & part_1.part
    # Esquisse11 → Enlèv. mat.-Extru.7 (cut, up to next)
    with BuildSketch(Plane(origin=(4.330127018922216, -2.500000000000013, 0), x_dir=(0, 0, -1), z_dir=(0.8660254037844386, -0.4999999999999999, 0)), mode=Mode.PRIVATE) as enl_v_mat_extru_7_sk2:
        with Locations(Location((-22.78, -87.98547402999999, 0), (0, 0, 90))):
            Circle(ESQUISSE11_R)
    enl_v_mat_extru_7_tool2 = extrude(enl_v_mat_extru_7_sk2.sketch, amount=-ENL_V_MAT_EXTRU_7_REACH, mode=Mode.PRIVATE) & part_1.part
    enl_v_mat_extru_7_1 = enl_v_mat_extru_7_tool1.solids().sort_by_distance((-39.66261, -78.697656, 15))[0]
    add(enl_v_mat_extru_7_1, mode=Mode.SUBTRACT)
    enl_v_mat_extru_7_2 = enl_v_mat_extru_7_tool2.solids().sort_by_distance((-39.66261, -78.697656, 22.78))[0]
    add(enl_v_mat_extru_7_2, mode=Mode.SUBTRACT)
    enl_v_mat_extru_7 = enl_v_mat_extru_7_1 + enl_v_mat_extru_7_2  # Enlèv. mat.-Extru.7 as one shape, for the pattern or mirror that repeats it

    # Esquisse12 → Enlèv. mat.-Extru.8 (cut)
    with BuildSketch(Plane(origin=(4.330127018922216, -2.500000000000013, 0), x_dir=(0, 0, -1), z_dir=(0.8660254037844386, -0.4999999999999999, 0))):
        with Locations(Location((-15, -87.98547403, 0), (0, 0, 90))):
            Circle(ESQUISSE12_R)
        with Locations(Location((-22.78, -87.98547403, 0), (0, 0, 90))):
            Circle(ESQUISSE12_R)
    enl_v_mat_extru_8 = extrude(amount=-ENL_V_MAT_EXTRU_8_DEPTH, mode=Mode.SUBTRACT)

    # Esquisse13 → Enlèv. mat.-Extru.9 (cut, up to next)
    with BuildSketch(Plane(origin=(-41.397737014999976, -71.7029838283548, 0), x_dir=(0.8660254037844389, -0.49999999999999967, 0), z_dir=(0.49999999999999967, 0.8660254037844389, 0)), mode=Mode.PRIVATE) as enl_v_mat_extru_9_sk1:
        with Locations(Location((-8.500000000000021, -5.000000000000001, 0), (0, 0, 180))):
            Circle(ESQUISSE13_R)
    enl_v_mat_extru_9_tool1 = extrude(enl_v_mat_extru_9_sk1.sketch, amount=-ENL_V_MAT_EXTRU_9_REACH, mode=Mode.PRIVATE) & part_1.part
    # Esquisse13 → Enlèv. mat.-Extru.9 (cut, up to next)
    with BuildSketch(Plane(origin=(-41.397737014999976, -71.7029838283548, 0), x_dir=(0.8660254037844389, -0.49999999999999967, 0), z_dir=(0.49999999999999967, 0.8660254037844389, 0)), mode=Mode.PRIVATE) as enl_v_mat_extru_9_sk2:
        with Locations(Location((8.499999999999977, -5, 0), (0, 0, 180))):
            Circle(ESQUISSE13_R)
    enl_v_mat_extru_9_tool2 = extrude(enl_v_mat_extru_9_sk2.sketch, amount=-ENL_V_MAT_EXTRU_9_REACH, mode=Mode.PRIVATE) & part_1.part
    enl_v_mat_extru_9_1 = enl_v_mat_extru_9_tool1.solids().sort_by_distance((-48.758953, -67.452984, 5))[0]
    add(enl_v_mat_extru_9_1, mode=Mode.SUBTRACT)
    enl_v_mat_extru_9_2 = enl_v_mat_extru_9_tool2.solids().sort_by_distance((-34.036521, -75.952984, 5))[0]
    add(enl_v_mat_extru_9_2, mode=Mode.SUBTRACT)
    enl_v_mat_extru_9 = enl_v_mat_extru_9_1 + enl_v_mat_extru_9_2  # Enlèv. mat.-Extru.9 as one shape, for the pattern or mirror that repeats it

    # Esquisse14 → Enlèv. mat.-Extru.10 (cut)
    with BuildSketch(Plane(origin=(-41.397737014999976, -71.7029838283548, 0), x_dir=(0.8660254037844389, -0.49999999999999967, 0), z_dir=(0.49999999999999967, 0.8660254037844389, 0))):
        with Locations(Location((-8.500000000000021, -5.000000000000001, 0), (0, 0, 180))):
            Circle(ESQUISSE14_R)
        with Locations(Location((8.499999999999977, -5, 0), (0, 0, 180))):
            Circle(ESQUISSE14_R)
    enl_v_mat_extru_10 = extrude(amount=-ENL_V_MAT_EXTRU_10_DEPTH, mode=Mode.SUBTRACT)

    # Esquisse15 → Enlèv. mat.-Extru.11 (cut, up to next)
    with BuildSketch(Plane(origin=(-41.397737014999976, -71.7029838283548, 0), x_dir=(0.8660254037844389, -0.49999999999999967, 0), z_dir=(0.49999999999999967, 0.8660254037844389, 0)), mode=Mode.PRIVATE) as enl_v_mat_extru_11_sk1:
        with Locations(Location((0, -6, 0), (0, 0, 180))):
            Circle(ESQUISSE15_R)
    enl_v_mat_extru_11_tool1 = extrude(enl_v_mat_extru_11_sk1.sketch, amount=-ENL_V_MAT_EXTRU_11_REACH, mode=Mode.PRIVATE) & part_1.part
    enl_v_mat_extru_11 = enl_v_mat_extru_11_tool1.solids().sort_by_distance((-41.397737, -71.702984, 6))[0]
    add(enl_v_mat_extru_11, mode=Mode.SUBTRACT)

    # Répétition circulaire1: Enlèv. mat.-Extru.7, Enlèv. mat.-Extru.8, Enlèv. mat.-Extru.9, Enlèv. mat.-Extru.10, Enlèv. mat.-Extru.11 ×3 about axis
    r_p_tition_circulaire1_axis = Axis((-4e-17, 7.55e-15, 0), (0, 0, 1))
    add([enl_v_mat_extru_7.rotate(r_p_tition_circulaire1_axis, i * 360 / R_P_TITION_CIRCULAIRE1_COUNT) for i in range(1, R_P_TITION_CIRCULAIRE1_COUNT)], mode=Mode.SUBTRACT)
    add([enl_v_mat_extru_8.rotate(r_p_tition_circulaire1_axis, i * 360 / R_P_TITION_CIRCULAIRE1_COUNT) for i in range(1, R_P_TITION_CIRCULAIRE1_COUNT)], mode=Mode.SUBTRACT)
    add([enl_v_mat_extru_9.rotate(r_p_tition_circulaire1_axis, i * 360 / R_P_TITION_CIRCULAIRE1_COUNT) for i in range(1, R_P_TITION_CIRCULAIRE1_COUNT)], mode=Mode.SUBTRACT)
    add([enl_v_mat_extru_10.rotate(r_p_tition_circulaire1_axis, i * 360 / R_P_TITION_CIRCULAIRE1_COUNT) for i in range(1, R_P_TITION_CIRCULAIRE1_COUNT)], mode=Mode.SUBTRACT)
    add([enl_v_mat_extru_11.rotate(r_p_tition_circulaire1_axis, i * 360 / R_P_TITION_CIRCULAIRE1_COUNT) for i in range(1, R_P_TITION_CIRCULAIRE1_COUNT)], mode=Mode.SUBTRACT)


solid = part_1.part
